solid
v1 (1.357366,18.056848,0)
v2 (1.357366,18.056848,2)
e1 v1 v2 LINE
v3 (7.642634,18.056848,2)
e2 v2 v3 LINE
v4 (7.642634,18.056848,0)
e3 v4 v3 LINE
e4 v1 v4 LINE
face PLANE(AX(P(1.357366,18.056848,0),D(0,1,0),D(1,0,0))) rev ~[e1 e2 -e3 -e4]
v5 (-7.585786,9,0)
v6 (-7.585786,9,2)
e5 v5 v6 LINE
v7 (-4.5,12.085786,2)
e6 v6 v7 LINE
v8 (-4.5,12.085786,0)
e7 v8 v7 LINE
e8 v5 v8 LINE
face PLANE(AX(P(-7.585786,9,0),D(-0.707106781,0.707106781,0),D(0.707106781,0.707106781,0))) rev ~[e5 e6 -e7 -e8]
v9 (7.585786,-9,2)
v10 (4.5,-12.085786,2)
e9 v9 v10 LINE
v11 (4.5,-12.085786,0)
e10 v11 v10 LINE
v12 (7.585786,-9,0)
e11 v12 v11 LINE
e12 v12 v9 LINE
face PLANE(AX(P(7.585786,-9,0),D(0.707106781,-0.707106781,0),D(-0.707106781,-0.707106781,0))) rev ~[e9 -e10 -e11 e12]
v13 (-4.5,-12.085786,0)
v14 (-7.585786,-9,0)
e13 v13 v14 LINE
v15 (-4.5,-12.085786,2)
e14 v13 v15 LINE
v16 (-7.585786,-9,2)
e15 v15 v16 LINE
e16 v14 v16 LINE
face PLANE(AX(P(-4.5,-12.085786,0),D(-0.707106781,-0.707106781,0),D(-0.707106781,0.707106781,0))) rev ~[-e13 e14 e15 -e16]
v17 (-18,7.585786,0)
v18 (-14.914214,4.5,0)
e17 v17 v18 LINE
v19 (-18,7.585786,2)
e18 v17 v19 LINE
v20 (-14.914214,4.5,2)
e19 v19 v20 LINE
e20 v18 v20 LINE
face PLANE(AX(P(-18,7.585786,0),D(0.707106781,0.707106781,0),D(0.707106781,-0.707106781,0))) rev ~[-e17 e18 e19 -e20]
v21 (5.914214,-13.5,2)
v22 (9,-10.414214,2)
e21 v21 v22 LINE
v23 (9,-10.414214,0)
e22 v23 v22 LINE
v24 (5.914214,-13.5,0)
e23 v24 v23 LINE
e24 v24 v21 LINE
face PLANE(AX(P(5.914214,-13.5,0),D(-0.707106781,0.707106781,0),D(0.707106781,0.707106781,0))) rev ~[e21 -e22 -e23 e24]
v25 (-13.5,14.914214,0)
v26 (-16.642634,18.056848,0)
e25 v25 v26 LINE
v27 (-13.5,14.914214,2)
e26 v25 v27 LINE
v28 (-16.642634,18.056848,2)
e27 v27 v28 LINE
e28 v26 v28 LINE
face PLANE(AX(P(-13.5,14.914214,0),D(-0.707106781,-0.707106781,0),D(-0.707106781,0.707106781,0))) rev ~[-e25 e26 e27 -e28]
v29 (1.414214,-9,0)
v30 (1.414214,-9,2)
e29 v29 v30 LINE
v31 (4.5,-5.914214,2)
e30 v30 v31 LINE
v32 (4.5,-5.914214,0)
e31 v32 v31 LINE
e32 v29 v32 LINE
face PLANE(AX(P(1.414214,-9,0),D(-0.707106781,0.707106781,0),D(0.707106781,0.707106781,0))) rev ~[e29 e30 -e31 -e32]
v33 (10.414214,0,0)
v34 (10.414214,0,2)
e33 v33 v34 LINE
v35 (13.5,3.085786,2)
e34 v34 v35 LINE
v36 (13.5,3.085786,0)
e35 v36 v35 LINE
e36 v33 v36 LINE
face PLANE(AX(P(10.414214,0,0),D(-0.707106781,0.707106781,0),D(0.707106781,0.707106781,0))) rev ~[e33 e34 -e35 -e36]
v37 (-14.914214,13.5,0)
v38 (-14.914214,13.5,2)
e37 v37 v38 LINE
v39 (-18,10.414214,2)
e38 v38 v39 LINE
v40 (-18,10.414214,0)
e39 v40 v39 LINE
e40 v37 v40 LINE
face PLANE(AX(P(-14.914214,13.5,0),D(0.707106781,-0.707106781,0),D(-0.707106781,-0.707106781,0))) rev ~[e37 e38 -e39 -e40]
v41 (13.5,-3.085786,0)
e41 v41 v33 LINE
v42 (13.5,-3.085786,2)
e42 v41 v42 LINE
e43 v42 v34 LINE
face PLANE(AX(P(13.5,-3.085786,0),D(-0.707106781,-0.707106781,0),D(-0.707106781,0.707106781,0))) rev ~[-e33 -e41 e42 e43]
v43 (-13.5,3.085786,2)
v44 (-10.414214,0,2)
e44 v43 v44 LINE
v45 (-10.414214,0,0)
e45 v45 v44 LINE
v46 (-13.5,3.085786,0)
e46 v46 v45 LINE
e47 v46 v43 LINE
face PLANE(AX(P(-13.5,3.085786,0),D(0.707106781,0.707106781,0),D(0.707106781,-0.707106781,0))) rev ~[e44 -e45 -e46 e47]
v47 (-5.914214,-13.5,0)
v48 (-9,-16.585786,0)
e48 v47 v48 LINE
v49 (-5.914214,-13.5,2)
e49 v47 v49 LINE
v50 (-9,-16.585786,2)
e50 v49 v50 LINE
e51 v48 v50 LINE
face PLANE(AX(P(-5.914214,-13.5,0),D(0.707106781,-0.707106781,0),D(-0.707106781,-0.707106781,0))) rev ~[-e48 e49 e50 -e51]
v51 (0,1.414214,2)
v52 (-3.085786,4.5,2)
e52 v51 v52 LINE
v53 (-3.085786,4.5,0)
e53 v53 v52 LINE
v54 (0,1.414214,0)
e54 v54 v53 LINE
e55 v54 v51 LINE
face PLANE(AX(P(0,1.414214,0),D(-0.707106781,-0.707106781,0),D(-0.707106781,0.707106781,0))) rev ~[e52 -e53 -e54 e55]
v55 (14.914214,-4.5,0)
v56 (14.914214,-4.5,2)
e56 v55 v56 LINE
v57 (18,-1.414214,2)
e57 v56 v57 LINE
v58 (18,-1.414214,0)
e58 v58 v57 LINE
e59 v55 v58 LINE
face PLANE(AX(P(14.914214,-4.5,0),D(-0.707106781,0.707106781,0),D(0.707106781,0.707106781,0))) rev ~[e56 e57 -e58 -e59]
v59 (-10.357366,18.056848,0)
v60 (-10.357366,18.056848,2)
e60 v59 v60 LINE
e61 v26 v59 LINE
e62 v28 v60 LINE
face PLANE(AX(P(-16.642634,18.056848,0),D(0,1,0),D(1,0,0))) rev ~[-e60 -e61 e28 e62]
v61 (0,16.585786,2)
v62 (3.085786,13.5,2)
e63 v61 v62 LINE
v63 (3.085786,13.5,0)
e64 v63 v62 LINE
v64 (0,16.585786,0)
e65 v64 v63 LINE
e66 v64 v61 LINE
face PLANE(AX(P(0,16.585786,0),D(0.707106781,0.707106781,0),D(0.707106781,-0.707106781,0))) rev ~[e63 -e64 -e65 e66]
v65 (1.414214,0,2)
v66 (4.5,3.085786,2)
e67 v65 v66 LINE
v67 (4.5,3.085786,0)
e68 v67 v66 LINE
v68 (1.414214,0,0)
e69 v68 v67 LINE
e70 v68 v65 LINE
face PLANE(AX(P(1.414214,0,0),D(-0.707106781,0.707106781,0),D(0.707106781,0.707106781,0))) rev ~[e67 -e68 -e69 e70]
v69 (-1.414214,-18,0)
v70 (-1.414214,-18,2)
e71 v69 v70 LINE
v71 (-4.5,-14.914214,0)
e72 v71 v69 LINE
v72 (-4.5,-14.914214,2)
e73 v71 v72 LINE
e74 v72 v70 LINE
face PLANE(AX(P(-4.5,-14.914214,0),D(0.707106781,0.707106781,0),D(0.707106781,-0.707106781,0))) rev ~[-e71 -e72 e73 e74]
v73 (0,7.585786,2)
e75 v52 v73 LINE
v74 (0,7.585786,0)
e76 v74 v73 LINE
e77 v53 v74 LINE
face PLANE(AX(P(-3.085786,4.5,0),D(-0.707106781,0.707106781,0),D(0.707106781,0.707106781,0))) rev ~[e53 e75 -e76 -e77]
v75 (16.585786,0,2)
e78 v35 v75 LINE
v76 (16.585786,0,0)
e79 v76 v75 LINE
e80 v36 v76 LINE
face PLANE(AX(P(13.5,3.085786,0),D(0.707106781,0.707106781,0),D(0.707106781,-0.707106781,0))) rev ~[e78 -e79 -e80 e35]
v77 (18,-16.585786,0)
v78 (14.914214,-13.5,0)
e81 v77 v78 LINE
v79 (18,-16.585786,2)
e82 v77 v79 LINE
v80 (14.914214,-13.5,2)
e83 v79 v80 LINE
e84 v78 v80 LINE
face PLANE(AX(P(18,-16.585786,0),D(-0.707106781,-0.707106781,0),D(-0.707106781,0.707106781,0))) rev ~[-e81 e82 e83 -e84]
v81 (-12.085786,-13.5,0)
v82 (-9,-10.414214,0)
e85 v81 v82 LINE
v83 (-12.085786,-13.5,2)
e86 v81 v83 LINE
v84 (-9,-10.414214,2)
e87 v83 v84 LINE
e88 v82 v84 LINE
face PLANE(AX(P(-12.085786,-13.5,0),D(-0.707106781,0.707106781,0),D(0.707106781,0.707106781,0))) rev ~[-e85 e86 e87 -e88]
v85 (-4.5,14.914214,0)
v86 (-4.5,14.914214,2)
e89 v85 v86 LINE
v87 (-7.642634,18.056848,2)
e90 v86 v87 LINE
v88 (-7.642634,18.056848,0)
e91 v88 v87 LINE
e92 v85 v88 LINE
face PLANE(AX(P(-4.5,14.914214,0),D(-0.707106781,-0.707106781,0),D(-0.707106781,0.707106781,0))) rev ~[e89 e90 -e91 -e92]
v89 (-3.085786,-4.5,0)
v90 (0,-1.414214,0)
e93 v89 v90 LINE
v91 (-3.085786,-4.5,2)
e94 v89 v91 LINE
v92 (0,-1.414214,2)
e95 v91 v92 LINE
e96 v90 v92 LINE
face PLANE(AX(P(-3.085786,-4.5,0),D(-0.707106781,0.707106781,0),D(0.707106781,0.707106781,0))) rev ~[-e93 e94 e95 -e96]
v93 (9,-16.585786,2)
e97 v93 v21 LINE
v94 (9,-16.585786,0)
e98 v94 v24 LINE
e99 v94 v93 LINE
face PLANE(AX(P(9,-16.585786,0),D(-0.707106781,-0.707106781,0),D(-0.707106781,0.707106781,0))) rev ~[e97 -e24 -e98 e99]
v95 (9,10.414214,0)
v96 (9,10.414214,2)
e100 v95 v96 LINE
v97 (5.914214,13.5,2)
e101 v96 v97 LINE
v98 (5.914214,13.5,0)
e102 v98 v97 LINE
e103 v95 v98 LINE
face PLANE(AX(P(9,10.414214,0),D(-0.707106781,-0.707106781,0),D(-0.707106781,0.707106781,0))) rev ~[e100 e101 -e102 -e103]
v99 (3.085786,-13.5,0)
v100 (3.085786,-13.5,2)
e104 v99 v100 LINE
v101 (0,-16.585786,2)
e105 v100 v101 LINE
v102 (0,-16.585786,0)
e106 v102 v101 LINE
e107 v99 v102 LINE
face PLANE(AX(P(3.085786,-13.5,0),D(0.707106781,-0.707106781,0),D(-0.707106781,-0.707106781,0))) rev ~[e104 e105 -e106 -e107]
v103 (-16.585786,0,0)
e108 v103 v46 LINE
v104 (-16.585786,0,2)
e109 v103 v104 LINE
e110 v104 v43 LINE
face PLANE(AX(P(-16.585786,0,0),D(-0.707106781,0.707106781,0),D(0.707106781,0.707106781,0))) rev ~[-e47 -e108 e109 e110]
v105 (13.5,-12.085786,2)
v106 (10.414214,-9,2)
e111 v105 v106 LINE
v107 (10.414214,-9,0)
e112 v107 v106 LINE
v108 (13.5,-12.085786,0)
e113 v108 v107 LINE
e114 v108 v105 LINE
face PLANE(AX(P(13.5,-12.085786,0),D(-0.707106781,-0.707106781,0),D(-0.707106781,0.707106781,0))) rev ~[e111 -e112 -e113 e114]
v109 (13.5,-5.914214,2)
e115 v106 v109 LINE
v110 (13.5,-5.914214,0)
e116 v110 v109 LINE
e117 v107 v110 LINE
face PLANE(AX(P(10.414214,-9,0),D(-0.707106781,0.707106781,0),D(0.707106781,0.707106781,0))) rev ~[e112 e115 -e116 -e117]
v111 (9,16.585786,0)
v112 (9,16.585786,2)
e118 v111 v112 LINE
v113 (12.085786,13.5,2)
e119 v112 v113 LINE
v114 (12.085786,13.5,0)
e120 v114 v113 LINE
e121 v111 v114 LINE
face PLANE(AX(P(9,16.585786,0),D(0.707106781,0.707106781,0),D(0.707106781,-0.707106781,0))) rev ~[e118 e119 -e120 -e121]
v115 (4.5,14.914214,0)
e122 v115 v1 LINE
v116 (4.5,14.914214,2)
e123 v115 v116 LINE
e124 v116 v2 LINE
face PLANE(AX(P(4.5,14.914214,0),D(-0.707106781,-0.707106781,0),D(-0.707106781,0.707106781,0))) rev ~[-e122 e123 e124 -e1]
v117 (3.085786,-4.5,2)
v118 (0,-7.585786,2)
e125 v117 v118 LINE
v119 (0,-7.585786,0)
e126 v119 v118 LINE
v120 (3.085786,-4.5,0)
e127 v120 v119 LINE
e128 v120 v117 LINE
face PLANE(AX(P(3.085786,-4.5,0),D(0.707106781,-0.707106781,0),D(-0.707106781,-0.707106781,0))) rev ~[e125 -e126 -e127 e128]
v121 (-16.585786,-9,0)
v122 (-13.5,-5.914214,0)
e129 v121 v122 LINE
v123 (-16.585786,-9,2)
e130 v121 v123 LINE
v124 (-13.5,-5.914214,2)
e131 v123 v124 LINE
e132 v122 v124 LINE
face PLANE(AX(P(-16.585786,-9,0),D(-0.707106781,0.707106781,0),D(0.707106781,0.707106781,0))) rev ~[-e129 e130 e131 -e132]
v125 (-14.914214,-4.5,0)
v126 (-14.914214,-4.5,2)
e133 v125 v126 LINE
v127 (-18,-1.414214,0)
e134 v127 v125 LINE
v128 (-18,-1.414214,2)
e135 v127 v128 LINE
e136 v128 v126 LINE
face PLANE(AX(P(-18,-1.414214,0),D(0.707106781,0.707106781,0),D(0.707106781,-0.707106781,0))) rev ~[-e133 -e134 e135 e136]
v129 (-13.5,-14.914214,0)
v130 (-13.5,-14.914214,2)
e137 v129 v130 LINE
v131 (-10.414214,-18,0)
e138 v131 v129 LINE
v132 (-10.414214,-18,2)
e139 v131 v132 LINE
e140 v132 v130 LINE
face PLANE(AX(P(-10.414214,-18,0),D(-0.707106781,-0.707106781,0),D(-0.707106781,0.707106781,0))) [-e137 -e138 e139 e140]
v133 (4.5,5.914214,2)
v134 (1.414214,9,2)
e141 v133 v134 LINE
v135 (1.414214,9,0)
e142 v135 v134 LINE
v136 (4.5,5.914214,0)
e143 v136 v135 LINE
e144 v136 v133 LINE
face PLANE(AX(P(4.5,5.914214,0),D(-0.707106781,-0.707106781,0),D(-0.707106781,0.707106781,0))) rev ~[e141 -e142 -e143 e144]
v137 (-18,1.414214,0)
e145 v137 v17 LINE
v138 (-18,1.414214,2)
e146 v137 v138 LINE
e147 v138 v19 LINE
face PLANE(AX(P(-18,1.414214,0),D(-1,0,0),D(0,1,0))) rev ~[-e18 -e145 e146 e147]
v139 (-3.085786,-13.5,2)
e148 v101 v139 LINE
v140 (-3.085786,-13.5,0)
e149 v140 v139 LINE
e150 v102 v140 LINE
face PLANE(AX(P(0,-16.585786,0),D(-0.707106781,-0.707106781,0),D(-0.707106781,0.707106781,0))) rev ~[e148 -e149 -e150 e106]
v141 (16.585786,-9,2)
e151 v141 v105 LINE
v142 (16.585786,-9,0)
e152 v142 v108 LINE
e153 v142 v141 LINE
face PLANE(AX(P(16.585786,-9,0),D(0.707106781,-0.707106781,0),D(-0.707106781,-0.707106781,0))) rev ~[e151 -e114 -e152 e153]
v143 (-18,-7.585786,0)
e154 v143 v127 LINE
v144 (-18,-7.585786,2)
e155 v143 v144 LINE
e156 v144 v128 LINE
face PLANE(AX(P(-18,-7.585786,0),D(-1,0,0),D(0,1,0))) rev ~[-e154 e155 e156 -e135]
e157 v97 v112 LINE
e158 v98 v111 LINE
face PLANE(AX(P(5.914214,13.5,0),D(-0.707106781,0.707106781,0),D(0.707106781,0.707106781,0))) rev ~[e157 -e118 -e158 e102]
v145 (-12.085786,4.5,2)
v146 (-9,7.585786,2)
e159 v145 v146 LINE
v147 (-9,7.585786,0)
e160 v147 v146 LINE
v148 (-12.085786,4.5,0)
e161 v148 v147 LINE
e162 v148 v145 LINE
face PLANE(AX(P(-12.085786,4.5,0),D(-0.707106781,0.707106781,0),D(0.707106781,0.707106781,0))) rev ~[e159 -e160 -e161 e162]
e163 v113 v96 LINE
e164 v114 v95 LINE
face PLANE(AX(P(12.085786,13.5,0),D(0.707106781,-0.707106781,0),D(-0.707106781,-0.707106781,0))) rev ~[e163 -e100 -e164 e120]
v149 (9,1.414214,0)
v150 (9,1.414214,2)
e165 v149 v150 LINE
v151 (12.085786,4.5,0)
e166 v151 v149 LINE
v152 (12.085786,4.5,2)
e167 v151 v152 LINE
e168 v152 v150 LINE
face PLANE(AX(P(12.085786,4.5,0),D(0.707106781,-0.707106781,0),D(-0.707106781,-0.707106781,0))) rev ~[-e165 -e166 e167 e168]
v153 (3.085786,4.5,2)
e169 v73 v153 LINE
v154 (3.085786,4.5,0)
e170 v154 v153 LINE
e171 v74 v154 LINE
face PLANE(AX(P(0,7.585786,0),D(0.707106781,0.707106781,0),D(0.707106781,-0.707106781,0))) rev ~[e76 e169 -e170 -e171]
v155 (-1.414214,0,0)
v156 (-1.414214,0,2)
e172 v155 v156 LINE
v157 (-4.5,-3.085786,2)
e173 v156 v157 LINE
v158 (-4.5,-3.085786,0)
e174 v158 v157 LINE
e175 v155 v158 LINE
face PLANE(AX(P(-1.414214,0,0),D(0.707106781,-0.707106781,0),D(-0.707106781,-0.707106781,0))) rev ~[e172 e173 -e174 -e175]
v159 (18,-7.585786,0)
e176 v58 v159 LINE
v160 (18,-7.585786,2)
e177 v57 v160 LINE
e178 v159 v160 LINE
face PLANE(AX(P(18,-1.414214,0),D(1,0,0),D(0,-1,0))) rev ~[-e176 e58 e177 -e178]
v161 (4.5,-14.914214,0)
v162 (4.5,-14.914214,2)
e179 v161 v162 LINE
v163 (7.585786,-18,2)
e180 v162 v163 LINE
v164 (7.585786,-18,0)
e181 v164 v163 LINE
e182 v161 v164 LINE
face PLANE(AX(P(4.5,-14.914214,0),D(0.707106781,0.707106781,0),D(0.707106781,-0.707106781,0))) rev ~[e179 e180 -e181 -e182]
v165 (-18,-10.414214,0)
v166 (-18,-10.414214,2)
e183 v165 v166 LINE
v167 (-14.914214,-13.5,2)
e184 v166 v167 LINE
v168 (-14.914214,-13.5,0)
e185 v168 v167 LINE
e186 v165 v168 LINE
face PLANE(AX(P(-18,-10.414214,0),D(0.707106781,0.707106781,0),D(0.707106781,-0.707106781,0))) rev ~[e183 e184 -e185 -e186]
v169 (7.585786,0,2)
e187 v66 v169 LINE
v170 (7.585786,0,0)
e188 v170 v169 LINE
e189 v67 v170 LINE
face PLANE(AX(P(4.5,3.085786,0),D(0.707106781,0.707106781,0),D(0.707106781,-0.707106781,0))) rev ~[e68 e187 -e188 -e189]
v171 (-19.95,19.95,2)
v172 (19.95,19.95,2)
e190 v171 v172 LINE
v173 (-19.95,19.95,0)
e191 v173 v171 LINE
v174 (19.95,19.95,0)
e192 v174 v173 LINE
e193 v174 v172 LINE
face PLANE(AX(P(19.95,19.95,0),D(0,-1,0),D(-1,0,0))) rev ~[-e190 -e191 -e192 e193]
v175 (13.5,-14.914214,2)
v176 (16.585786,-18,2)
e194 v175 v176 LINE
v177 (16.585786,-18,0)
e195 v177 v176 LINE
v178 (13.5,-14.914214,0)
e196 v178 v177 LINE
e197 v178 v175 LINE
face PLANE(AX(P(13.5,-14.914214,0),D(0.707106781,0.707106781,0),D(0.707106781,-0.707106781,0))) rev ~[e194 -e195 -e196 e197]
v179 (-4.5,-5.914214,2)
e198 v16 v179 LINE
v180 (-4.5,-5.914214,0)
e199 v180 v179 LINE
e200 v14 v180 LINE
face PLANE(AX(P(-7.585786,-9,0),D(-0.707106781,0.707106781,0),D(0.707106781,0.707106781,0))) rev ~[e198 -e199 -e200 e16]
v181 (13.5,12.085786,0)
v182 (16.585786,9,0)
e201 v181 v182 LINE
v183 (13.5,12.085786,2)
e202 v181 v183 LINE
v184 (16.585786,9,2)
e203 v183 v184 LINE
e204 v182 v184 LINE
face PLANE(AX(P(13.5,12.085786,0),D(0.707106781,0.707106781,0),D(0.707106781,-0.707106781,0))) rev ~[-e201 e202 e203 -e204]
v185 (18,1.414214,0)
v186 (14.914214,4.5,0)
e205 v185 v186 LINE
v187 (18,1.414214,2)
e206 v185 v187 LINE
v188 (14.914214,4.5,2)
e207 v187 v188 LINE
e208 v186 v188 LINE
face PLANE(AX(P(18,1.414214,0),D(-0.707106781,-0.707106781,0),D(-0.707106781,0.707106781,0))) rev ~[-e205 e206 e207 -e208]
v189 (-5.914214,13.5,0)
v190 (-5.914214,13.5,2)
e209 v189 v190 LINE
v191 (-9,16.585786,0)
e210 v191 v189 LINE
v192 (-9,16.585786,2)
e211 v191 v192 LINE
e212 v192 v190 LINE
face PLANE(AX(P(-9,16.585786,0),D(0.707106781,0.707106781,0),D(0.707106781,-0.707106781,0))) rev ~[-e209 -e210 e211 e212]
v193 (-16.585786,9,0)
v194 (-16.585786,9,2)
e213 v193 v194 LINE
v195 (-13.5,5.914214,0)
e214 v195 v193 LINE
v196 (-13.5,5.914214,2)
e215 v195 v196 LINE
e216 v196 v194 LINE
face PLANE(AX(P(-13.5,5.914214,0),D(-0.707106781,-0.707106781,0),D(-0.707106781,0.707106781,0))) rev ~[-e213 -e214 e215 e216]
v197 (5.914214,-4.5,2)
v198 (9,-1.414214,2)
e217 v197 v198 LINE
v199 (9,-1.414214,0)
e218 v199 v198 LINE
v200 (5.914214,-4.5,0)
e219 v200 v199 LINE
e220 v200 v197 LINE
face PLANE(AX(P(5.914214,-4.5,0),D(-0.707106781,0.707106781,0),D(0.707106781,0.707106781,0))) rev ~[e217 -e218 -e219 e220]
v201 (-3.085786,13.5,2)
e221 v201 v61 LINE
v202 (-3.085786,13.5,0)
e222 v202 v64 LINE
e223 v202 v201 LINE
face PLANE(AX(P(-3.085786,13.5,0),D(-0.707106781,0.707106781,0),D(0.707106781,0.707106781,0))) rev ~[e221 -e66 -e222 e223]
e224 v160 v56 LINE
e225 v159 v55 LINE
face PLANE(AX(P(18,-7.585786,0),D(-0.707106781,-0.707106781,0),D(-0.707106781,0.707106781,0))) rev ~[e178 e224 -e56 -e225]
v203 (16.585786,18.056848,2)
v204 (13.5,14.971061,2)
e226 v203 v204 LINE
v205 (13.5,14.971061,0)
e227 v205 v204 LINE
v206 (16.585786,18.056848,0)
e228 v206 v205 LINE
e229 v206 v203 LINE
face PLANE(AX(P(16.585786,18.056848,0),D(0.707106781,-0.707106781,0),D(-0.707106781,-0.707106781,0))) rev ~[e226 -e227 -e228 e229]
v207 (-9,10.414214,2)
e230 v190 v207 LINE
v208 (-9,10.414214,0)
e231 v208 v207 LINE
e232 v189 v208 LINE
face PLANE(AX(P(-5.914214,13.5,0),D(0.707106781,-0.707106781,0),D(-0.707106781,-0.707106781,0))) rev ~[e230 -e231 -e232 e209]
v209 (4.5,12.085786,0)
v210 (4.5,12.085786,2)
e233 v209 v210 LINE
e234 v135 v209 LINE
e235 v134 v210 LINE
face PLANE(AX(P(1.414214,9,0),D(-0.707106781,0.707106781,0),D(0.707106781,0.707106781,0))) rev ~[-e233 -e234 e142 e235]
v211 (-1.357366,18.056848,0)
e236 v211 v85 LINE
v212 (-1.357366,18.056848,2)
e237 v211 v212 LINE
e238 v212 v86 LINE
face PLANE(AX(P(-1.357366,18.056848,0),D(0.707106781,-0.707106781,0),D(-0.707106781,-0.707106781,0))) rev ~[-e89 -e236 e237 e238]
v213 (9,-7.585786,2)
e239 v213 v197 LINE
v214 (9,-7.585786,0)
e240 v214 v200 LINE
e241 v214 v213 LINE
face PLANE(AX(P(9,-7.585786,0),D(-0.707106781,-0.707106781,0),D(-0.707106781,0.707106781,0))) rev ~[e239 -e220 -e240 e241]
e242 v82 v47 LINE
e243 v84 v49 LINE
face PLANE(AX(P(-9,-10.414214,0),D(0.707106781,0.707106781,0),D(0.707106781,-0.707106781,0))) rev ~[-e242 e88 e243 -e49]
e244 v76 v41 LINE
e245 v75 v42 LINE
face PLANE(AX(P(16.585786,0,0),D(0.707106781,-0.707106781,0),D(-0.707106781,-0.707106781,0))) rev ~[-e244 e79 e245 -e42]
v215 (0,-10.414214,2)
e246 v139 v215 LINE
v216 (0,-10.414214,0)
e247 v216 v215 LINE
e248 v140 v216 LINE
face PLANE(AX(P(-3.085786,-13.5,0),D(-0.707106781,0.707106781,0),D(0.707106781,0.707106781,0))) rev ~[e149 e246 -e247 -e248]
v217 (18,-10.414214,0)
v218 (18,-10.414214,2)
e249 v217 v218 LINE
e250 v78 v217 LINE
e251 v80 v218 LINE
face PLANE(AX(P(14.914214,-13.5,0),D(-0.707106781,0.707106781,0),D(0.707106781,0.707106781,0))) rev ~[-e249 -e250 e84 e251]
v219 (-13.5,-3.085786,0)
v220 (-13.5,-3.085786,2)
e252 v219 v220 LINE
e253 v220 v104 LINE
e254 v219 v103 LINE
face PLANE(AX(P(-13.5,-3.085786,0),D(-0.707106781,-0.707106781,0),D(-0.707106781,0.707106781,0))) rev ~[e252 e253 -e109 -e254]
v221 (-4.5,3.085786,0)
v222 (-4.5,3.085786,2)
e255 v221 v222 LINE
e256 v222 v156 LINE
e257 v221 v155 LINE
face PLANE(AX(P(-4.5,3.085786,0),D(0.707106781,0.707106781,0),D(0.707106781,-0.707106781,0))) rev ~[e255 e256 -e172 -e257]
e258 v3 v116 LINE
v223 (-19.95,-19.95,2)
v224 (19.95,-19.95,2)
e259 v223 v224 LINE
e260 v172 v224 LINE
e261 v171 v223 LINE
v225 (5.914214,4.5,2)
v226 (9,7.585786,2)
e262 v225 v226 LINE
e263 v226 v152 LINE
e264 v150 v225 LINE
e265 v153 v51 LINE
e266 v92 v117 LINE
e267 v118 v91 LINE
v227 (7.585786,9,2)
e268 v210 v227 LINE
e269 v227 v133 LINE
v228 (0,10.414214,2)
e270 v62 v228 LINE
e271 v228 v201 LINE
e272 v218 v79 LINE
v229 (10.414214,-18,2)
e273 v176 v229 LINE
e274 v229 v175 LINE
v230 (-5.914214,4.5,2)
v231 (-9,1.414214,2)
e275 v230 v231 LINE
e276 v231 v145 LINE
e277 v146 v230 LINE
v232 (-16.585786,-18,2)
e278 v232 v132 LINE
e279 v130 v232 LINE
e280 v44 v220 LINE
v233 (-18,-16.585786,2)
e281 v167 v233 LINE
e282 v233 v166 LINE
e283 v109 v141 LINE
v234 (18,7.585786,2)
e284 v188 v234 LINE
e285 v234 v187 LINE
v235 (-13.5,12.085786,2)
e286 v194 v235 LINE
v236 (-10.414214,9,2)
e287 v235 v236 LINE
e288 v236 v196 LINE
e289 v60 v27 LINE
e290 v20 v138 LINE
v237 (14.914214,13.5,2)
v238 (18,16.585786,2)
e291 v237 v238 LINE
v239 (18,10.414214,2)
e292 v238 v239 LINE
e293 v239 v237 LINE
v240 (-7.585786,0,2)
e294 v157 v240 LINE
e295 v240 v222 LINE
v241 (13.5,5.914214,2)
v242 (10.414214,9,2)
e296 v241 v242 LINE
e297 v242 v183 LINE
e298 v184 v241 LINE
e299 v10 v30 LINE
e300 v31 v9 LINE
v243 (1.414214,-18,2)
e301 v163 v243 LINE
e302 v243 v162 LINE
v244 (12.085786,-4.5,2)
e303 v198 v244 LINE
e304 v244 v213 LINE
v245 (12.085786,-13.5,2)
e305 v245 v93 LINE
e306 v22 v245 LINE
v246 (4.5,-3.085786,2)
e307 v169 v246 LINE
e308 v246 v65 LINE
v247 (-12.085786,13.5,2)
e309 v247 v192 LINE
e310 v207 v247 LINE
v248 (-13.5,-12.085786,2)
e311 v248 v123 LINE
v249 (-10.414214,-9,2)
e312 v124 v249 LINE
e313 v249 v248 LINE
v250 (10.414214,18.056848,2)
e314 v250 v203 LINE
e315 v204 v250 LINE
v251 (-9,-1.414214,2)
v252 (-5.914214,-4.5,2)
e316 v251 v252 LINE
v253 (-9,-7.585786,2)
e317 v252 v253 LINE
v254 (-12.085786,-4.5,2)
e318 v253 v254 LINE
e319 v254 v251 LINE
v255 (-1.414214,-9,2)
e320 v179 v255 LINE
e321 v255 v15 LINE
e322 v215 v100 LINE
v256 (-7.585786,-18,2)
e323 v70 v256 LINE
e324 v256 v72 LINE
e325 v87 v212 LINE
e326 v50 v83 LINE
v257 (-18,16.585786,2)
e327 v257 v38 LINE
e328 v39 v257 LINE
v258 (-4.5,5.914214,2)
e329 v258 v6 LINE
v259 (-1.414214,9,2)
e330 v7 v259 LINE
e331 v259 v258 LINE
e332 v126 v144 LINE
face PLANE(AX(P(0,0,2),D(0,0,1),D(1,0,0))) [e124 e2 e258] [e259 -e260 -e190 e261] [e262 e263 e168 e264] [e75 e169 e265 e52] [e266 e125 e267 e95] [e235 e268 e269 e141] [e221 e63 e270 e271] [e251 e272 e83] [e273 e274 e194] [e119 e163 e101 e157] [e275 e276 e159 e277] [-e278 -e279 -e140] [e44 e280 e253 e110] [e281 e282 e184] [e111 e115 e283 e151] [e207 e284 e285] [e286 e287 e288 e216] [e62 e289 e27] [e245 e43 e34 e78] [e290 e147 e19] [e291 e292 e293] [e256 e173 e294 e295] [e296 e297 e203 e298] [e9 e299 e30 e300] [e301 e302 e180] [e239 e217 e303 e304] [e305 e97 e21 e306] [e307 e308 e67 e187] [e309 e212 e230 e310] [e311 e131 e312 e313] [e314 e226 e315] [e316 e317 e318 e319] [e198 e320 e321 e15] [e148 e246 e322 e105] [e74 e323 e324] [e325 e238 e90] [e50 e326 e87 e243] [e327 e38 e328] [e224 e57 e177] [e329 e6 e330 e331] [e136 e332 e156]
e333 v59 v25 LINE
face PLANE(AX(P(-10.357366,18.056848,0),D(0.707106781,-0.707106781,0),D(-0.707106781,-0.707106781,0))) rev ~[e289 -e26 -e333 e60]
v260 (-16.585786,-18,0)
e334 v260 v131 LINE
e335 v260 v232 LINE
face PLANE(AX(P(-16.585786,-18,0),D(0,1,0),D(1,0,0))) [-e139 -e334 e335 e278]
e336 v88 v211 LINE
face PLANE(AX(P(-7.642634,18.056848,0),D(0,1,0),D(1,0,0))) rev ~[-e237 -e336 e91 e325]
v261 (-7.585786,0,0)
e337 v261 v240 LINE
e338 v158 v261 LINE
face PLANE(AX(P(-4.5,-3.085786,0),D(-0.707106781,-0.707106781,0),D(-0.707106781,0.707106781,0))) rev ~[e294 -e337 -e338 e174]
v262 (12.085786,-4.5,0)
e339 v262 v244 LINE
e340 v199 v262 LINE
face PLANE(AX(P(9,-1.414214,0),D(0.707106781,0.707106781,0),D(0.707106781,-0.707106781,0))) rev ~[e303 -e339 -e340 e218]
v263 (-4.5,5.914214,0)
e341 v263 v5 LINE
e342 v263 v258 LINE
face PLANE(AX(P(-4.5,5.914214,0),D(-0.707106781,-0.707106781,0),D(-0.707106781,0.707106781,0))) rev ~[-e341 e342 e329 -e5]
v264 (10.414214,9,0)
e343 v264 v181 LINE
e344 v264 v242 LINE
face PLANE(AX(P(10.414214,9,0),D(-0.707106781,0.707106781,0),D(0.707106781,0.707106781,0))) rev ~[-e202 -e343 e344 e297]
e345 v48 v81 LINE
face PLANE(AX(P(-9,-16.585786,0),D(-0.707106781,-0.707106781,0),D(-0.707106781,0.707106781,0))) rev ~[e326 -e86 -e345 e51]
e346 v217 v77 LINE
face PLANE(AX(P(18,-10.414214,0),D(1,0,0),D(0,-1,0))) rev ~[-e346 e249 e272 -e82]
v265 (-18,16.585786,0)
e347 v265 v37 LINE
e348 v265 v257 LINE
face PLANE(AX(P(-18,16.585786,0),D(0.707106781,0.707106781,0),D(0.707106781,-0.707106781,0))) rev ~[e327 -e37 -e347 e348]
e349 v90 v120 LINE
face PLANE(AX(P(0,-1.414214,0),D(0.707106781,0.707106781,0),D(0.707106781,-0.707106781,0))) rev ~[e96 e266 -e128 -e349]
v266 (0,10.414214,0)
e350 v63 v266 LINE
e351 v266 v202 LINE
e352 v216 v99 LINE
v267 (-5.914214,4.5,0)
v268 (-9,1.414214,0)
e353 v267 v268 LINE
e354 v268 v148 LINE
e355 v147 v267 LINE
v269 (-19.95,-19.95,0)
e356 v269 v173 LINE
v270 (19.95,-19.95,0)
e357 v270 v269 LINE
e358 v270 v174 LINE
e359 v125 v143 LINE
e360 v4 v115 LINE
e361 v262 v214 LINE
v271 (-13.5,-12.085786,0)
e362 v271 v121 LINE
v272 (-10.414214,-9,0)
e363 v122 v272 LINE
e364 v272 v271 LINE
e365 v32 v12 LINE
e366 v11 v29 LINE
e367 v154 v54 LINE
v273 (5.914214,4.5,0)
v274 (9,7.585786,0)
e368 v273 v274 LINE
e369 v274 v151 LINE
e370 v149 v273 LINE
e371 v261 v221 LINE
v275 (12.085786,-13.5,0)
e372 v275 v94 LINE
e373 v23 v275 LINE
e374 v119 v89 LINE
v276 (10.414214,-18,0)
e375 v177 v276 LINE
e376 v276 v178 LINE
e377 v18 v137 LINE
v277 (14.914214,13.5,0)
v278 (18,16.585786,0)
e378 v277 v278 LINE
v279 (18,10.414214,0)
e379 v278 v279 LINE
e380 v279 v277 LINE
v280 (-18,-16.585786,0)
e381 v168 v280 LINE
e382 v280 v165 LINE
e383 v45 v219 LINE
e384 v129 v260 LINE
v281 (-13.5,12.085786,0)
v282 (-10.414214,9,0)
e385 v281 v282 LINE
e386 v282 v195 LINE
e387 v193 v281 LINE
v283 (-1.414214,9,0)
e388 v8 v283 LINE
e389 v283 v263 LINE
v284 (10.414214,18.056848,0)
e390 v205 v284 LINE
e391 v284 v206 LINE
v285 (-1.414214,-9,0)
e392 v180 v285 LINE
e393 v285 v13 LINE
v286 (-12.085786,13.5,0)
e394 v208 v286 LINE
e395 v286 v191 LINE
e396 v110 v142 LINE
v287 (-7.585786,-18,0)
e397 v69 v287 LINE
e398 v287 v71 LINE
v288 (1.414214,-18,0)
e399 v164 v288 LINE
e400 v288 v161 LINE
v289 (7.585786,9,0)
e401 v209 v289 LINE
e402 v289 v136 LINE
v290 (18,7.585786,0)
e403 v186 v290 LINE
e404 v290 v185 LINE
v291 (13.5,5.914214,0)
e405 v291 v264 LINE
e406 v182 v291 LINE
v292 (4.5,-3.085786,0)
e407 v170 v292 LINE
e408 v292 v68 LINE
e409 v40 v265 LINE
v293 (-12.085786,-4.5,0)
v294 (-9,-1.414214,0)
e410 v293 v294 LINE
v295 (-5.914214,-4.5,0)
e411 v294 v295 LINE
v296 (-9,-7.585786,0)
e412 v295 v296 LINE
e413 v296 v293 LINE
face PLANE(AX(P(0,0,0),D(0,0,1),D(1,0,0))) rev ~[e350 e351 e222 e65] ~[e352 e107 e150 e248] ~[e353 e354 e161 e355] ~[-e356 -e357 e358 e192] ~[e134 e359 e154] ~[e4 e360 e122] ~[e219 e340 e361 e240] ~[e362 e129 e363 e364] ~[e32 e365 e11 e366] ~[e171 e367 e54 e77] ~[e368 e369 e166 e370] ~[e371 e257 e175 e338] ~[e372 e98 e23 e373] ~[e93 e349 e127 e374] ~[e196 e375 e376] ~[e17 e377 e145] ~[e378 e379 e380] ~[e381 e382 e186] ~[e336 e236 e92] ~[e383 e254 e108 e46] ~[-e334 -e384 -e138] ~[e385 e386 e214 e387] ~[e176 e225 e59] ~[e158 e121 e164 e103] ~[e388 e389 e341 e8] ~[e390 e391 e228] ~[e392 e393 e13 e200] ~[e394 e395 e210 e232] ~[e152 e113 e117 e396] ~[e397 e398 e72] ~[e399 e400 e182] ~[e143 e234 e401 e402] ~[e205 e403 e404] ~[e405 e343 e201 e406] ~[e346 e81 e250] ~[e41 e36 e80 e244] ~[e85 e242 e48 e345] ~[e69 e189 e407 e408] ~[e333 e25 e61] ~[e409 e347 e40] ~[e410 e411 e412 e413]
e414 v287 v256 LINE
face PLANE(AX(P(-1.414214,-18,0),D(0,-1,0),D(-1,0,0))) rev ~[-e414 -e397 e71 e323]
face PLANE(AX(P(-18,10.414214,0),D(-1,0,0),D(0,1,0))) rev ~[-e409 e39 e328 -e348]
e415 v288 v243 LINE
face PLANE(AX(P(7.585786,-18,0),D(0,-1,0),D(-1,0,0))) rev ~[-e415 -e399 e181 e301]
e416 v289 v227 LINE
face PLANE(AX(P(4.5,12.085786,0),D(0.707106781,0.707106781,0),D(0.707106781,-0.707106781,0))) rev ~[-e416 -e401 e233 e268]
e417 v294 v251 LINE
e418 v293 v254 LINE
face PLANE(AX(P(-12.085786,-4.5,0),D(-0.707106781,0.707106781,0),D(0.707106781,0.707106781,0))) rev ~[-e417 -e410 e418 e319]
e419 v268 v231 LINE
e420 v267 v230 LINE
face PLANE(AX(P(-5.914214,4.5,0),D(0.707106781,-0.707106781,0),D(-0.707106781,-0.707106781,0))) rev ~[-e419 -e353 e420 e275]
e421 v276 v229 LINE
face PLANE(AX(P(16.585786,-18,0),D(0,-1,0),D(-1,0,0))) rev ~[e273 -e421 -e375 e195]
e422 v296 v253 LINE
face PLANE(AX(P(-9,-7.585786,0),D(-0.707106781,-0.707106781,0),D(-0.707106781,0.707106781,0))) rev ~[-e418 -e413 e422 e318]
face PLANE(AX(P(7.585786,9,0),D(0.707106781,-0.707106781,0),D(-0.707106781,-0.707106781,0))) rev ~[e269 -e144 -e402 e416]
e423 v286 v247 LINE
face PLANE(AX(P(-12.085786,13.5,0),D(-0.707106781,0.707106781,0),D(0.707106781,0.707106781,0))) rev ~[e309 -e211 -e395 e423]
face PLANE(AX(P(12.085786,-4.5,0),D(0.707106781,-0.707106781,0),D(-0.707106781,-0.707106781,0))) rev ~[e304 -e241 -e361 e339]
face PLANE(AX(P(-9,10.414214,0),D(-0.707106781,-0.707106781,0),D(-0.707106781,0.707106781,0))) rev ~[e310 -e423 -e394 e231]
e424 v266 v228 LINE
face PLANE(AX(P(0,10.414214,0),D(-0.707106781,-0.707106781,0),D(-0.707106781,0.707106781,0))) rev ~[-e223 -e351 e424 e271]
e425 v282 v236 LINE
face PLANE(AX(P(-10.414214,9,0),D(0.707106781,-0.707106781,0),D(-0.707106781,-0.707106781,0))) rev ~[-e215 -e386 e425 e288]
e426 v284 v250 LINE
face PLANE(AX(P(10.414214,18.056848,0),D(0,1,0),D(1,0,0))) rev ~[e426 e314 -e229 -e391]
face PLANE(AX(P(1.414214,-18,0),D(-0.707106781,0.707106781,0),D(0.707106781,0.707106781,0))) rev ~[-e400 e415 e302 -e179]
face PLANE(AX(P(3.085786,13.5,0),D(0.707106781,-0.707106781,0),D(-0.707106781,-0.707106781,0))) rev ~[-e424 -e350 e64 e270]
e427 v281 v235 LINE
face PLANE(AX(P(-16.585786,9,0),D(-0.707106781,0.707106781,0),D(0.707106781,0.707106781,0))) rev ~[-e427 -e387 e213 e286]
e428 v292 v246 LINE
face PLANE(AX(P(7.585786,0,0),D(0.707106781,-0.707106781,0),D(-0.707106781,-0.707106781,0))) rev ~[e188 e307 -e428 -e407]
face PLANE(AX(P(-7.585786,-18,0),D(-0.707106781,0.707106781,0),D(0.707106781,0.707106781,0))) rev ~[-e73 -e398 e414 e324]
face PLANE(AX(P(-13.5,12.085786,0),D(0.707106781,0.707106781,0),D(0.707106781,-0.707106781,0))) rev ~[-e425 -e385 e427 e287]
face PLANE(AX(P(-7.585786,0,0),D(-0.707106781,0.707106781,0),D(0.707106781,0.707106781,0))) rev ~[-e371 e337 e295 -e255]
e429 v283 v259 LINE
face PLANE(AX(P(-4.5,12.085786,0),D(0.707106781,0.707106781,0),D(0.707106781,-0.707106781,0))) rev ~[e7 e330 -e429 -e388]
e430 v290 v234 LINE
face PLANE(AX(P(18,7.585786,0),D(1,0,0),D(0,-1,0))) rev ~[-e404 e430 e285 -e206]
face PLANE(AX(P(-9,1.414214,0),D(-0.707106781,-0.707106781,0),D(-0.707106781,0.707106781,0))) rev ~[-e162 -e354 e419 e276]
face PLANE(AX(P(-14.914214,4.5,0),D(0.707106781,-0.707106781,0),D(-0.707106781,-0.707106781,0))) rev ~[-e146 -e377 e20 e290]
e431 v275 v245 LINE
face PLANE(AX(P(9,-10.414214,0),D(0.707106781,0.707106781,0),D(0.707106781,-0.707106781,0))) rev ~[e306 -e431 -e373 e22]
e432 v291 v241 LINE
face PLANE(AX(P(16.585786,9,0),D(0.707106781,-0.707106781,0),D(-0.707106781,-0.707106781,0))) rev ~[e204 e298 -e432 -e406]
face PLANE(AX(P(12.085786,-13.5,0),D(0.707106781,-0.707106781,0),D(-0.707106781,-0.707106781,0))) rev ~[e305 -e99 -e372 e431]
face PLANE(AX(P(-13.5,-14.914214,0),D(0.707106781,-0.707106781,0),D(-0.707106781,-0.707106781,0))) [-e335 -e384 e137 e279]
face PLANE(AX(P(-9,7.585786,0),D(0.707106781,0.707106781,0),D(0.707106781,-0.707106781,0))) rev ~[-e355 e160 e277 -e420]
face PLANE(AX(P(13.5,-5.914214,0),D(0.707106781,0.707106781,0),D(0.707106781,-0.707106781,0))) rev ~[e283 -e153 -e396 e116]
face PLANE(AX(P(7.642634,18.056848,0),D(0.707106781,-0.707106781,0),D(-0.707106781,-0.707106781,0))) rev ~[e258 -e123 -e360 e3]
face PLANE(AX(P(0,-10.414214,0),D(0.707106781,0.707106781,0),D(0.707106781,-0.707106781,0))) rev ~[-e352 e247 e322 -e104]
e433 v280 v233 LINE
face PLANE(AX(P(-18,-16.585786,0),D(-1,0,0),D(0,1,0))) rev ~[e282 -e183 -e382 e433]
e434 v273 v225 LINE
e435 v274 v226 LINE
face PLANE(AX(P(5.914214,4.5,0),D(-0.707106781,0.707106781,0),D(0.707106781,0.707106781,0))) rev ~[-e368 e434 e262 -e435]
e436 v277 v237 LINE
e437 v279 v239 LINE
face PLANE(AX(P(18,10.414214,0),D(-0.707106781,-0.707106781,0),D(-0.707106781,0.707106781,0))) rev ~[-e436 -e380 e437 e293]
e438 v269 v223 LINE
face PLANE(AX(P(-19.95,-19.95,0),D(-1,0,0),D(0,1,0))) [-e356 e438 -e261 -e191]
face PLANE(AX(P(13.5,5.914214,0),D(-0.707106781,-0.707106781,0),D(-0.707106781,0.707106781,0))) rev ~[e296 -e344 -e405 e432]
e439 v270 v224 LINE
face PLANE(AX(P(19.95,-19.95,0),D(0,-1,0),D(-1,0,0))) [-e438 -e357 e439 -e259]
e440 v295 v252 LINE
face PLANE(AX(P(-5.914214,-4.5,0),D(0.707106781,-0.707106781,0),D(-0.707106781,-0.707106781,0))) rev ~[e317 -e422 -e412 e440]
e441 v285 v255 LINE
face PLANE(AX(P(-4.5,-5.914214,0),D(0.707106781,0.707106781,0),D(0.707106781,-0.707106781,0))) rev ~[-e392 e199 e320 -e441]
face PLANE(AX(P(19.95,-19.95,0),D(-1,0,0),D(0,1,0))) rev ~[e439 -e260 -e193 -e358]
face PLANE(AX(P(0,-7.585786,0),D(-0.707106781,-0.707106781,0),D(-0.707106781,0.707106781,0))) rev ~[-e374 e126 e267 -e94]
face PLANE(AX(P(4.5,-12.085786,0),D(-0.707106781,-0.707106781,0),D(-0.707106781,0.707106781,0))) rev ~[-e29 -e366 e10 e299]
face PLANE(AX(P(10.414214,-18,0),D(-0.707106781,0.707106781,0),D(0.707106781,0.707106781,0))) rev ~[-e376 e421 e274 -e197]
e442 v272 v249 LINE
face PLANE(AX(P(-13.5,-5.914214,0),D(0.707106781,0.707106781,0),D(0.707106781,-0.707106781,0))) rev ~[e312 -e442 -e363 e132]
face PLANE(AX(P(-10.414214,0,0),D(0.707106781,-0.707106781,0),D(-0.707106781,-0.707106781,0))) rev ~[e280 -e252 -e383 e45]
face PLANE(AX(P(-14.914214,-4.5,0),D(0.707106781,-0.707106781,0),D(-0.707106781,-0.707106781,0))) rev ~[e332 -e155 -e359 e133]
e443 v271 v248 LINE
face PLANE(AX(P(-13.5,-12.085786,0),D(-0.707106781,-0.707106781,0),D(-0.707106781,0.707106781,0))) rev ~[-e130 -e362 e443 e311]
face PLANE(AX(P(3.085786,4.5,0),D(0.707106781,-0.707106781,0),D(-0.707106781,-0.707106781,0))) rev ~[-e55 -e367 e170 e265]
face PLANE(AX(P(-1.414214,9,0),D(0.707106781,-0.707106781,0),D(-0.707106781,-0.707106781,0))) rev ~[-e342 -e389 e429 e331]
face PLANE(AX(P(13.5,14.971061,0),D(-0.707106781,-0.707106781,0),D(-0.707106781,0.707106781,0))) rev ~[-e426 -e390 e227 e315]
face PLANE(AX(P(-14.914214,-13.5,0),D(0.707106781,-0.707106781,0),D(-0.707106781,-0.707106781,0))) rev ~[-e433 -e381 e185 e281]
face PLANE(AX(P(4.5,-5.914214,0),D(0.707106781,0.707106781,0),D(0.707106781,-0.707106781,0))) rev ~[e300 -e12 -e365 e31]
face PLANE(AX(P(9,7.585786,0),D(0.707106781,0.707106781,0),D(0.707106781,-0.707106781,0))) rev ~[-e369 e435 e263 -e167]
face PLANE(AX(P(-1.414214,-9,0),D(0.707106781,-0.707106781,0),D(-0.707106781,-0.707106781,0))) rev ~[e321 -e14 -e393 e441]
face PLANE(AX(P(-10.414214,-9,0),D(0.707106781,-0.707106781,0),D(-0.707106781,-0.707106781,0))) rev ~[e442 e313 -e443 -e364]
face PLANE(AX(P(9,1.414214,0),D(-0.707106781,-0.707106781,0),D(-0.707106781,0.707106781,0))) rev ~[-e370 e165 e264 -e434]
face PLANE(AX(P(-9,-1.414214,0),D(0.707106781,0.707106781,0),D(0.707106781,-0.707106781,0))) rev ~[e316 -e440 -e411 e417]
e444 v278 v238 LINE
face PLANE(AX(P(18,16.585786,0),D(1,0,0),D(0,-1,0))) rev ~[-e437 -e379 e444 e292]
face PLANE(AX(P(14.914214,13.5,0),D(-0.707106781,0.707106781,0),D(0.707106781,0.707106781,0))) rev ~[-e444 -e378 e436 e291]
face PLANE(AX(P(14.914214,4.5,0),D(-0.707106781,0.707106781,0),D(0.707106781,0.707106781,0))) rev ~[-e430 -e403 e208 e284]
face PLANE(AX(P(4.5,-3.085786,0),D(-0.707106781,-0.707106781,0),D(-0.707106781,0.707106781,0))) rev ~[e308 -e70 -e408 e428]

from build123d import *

# Parameters (mm, degrees)
SKETCH5_W           = 40
SKETCH5_H           = 40
BOSS_EXTRUDE2_DEPTH = 2
CUT_EXTRUDE1_DEPTH  = 2
CUT_EXTRUDE4_DEPTH  = 2
CUT_EXTRUDE5_DEPTH  = 2
CUT_EXTRUDE6_DEPTH  = 2
CUT_EXTRUDE7_DEPTH  = 2
CUT_EXTRUDE8_DEPTH  = 2
SKETCH6_OUTSIDE_W   = 53.32
SKETCH6_OUTSIDE_H   = 53.32
SKETCH6_OUTSIDE_W_2 = 39.9
SKETCH6_OUTSIDE_H_2 = 39.9
CUT_EXTRUDE9_DEPTH  = 10


with BuildPart() as part:
    # Sketch5 → Boss-Extrude2 (new body)
    with BuildSketch(Plane.XY):
        Rectangle(SKETCH5_W, SKETCH5_H)
    extrude(amount=BOSS_EXTRUDE2_DEPTH)

    # Sketch4 → Cut-Extrude1 (cut)
    with BuildSketch(Plane.XY):
        Polygon((16.585786438, 18.056847711), (10.414213562, 18.056847711), (13.5, 14.971061274), align=None)
        Polygon((18, 10.414213562), (18, 16.585786438), (14.914213562, 13.5), align=None)
    extrude(amount=CUT_EXTRUDE1_DEPTH, mode=Mode.SUBTRACT)

    # Sketch4<5> → Cut-Extrude4 (cut)
    with BuildSketch(Plane.XY):
        Polygon((-13.5, -14.914213562), (-16.585786438, -18), (-10.414213562, -18), align=None)
        Polygon((-13.5, -12.085786438), (-10.414213562, -9), (-13.5, -5.914213562), (-16.585786438, -9), align=None)
        Polygon((-5.914213562, -13.5), (-9, -10.414213562), (-12.085786438, -13.5), (-9, -16.585786438), align=None)
        Polygon((-18, -16.585786438), (-14.914213562, -13.5), (-18, -10.414213562), align=None)
    extrude(amount=CUT_EXTRUDE4_DEPTH, mode=Mode.SUBTRACT)

    # Sketch4<6> → Cut-Extrude5 (cut)
    with BuildSketch(Plane.XY):
        Polygon((13.5, -14.914213562), (10.414213562, -18), (16.585786438, -18), align=None)
        Polygon((3.085786438, -13.5), (0, -10.414213562), (-3.085786438, -13.5), (0, -16.585786438), align=None)
        Polygon((-1.414213562, -18), (-4.5, -14.914213562), (-7.585786438, -18), align=None)
        Polygon((4.5, -5.914213562), (1.414213562, -9), (4.5, -12.085786438), (7.585786438, -9), align=None)
        Polygon((12.085786438, -13.5), (9, -10.414213562), (5.914213562, -13.5), (9, -16.585786438), align=None)
        Polygon((7.585786438, -18), (4.5, -14.914213562), (1.414213562, -18), align=None)
        Polygon((13.5, -5.914213562), (10.414213562, -9), (13.5, -12.085786438), (16.585786438, -9), align=None)
        Polygon((18, -16.585786438), (18, -10.414213562), (14.914213562, -13.5), align=None)
        Polygon((12.085786438, -4.5), (9, -1.414213562), (5.914213562, -4.5), (9, -7.585786438), align=None)
        Polygon((18, -7.585786438), (18, -1.414213562), (14.914213562, -4.5), align=None)
    extrude(amount=CUT_EXTRUDE5_DEPTH, mode=Mode.SUBTRACT)

    # Sketch4<7> → Cut-Extrude6 (cut)
    with BuildSketch(Plane.XY):
        Polygon((-4.5, -5.914213562), (-7.585786438, -9), (-4.5, -12.085786438), (-1.414213562, -9), align=None)
        Polygon((3.085786438, -4.5), (0, -1.414213562), (-3.085786438, -4.5), (0, -7.585786438), align=None)
        Polygon((4.5, 3.085786438), (1.414213562, 0), (4.5, -3.085786438), (7.585786438, 0), align=None)
        Polygon((13.5, 3.085786438), (10.414213562, 0), (13.5, -3.085786438), (16.585786438, 0), align=None)
        Polygon((3.085786438, 4.5), (0, 7.585786438), (-3.085786438, 4.5), (0, 1.414213562), align=None)
        Polygon((4.5, 12.085786438), (1.414213562, 9), (4.5, 5.914213562), (7.585786438, 9), align=None)
        Polygon((12.085786438, 4.5), (9, 7.585786438), (5.914213562, 4.5), (9, 1.414213562), align=None)
        Polygon((13.5, 12.085786438), (10.414213562, 9), (13.5, 5.914213562), (16.585786438, 9), align=None)
        Polygon((18, 1.414213562), (18, 7.585786438), (14.914213562, 4.5), align=None)
        Polygon((3.085786438, 13.5), (0, 16.585786438), (-3.085786438, 13.5), (0, 10.414213562), align=None)
        Polygon((7.642634149, 18.056847711), (1.357365851, 18.056847711), (4.5, 14.914213562), align=None)
        Polygon((12.085786438, 13.5), (9, 16.585786438), (5.914213562, 13.5), (9, 10.414213562), align=None)
    extrude(amount=CUT_EXTRUDE6_DEPTH, mode=Mode.SUBTRACT)

    # Sketch4<9> → Cut-Extrude7 (cut)
    with BuildSketch(Plane.XY):
        Polygon((-9, -7.585786438), (-5.914213562, -4.5), (-9, -1.414213562), (-12.085786438, -4.5), align=None)
        Polygon((-4.5, 3.085786438), (-7.585786438, 0), (-4.5, -3.085786438), (-1.414213562, 0), align=None)
        Polygon((-9, 1.414213562), (-5.914213562, 4.5), (-9, 7.585786438), (-12.085786438, 4.5), align=None)
        Polygon((-18, -7.585786438), (-14.914213562, -4.5), (-18, -1.414213562), align=None)
        Polygon((-13.5, 3.085786438), (-16.585786438, 0), (-13.5, -3.085786438), (-10.414213562, 0), align=None)
        Polygon((-18, 1.414213562), (-14.914213562, 4.5), (-18, 7.585786438), align=None)
    extrude(amount=CUT_EXTRUDE7_DEPTH, mode=Mode.SUBTRACT)

    # Sketch4<10> → Cut-Extrude8 (cut)
    with BuildSketch(Plane.XY):
        Polygon((-10.357365851, 18.056847711), (-16.642634149, 18.056847711), (-13.5, 14.914213562), align=None)
        Polygon((-14.914213562, 13.5), (-18, 16.585786438), (-18, 10.414213562), align=None)
        Polygon((-4.5, 12.085786438), (-7.585786438, 9), (-4.5, 5.914213562), (-1.414213562, 9), align=None)
        Polygon((-9, 10.414213562), (-5.914213562, 13.5), (-9, 16.585786438), (-12.085786438, 13.5), align=None)
        Polygon((-1.357365851, 18.056847711), (-7.642634149, 18.056847711), (-4.5, 14.914213562), align=None)
        Polygon((-13.5, 12.085786438), (-16.585786438, 9), (-13.5, 5.914213562), (-10.414213562, 9), align=None)
    extrude(amount=CUT_EXTRUDE8_DEPTH, mode=Mode.SUBTRACT)

    # Sketch6 outside → Cut-Extrude9 (cut)
    with BuildSketch(Plane(origin=(0, 0, 0), x_dir=(-1, 0, 0), z_dir=(0, 0, -1))):
        Rectangle(SKETCH6_OUTSIDE_W, SKETCH6_OUTSIDE_H)
        Rectangle(SKETCH6_OUTSIDE_W_2, SKETCH6_OUTSIDE_H_2, mode=Mode.SUBTRACT)
    extrude(amount=-CUT_EXTRUDE9_DEPTH, mode=Mode.SUBTRACT)


solid = part.part
